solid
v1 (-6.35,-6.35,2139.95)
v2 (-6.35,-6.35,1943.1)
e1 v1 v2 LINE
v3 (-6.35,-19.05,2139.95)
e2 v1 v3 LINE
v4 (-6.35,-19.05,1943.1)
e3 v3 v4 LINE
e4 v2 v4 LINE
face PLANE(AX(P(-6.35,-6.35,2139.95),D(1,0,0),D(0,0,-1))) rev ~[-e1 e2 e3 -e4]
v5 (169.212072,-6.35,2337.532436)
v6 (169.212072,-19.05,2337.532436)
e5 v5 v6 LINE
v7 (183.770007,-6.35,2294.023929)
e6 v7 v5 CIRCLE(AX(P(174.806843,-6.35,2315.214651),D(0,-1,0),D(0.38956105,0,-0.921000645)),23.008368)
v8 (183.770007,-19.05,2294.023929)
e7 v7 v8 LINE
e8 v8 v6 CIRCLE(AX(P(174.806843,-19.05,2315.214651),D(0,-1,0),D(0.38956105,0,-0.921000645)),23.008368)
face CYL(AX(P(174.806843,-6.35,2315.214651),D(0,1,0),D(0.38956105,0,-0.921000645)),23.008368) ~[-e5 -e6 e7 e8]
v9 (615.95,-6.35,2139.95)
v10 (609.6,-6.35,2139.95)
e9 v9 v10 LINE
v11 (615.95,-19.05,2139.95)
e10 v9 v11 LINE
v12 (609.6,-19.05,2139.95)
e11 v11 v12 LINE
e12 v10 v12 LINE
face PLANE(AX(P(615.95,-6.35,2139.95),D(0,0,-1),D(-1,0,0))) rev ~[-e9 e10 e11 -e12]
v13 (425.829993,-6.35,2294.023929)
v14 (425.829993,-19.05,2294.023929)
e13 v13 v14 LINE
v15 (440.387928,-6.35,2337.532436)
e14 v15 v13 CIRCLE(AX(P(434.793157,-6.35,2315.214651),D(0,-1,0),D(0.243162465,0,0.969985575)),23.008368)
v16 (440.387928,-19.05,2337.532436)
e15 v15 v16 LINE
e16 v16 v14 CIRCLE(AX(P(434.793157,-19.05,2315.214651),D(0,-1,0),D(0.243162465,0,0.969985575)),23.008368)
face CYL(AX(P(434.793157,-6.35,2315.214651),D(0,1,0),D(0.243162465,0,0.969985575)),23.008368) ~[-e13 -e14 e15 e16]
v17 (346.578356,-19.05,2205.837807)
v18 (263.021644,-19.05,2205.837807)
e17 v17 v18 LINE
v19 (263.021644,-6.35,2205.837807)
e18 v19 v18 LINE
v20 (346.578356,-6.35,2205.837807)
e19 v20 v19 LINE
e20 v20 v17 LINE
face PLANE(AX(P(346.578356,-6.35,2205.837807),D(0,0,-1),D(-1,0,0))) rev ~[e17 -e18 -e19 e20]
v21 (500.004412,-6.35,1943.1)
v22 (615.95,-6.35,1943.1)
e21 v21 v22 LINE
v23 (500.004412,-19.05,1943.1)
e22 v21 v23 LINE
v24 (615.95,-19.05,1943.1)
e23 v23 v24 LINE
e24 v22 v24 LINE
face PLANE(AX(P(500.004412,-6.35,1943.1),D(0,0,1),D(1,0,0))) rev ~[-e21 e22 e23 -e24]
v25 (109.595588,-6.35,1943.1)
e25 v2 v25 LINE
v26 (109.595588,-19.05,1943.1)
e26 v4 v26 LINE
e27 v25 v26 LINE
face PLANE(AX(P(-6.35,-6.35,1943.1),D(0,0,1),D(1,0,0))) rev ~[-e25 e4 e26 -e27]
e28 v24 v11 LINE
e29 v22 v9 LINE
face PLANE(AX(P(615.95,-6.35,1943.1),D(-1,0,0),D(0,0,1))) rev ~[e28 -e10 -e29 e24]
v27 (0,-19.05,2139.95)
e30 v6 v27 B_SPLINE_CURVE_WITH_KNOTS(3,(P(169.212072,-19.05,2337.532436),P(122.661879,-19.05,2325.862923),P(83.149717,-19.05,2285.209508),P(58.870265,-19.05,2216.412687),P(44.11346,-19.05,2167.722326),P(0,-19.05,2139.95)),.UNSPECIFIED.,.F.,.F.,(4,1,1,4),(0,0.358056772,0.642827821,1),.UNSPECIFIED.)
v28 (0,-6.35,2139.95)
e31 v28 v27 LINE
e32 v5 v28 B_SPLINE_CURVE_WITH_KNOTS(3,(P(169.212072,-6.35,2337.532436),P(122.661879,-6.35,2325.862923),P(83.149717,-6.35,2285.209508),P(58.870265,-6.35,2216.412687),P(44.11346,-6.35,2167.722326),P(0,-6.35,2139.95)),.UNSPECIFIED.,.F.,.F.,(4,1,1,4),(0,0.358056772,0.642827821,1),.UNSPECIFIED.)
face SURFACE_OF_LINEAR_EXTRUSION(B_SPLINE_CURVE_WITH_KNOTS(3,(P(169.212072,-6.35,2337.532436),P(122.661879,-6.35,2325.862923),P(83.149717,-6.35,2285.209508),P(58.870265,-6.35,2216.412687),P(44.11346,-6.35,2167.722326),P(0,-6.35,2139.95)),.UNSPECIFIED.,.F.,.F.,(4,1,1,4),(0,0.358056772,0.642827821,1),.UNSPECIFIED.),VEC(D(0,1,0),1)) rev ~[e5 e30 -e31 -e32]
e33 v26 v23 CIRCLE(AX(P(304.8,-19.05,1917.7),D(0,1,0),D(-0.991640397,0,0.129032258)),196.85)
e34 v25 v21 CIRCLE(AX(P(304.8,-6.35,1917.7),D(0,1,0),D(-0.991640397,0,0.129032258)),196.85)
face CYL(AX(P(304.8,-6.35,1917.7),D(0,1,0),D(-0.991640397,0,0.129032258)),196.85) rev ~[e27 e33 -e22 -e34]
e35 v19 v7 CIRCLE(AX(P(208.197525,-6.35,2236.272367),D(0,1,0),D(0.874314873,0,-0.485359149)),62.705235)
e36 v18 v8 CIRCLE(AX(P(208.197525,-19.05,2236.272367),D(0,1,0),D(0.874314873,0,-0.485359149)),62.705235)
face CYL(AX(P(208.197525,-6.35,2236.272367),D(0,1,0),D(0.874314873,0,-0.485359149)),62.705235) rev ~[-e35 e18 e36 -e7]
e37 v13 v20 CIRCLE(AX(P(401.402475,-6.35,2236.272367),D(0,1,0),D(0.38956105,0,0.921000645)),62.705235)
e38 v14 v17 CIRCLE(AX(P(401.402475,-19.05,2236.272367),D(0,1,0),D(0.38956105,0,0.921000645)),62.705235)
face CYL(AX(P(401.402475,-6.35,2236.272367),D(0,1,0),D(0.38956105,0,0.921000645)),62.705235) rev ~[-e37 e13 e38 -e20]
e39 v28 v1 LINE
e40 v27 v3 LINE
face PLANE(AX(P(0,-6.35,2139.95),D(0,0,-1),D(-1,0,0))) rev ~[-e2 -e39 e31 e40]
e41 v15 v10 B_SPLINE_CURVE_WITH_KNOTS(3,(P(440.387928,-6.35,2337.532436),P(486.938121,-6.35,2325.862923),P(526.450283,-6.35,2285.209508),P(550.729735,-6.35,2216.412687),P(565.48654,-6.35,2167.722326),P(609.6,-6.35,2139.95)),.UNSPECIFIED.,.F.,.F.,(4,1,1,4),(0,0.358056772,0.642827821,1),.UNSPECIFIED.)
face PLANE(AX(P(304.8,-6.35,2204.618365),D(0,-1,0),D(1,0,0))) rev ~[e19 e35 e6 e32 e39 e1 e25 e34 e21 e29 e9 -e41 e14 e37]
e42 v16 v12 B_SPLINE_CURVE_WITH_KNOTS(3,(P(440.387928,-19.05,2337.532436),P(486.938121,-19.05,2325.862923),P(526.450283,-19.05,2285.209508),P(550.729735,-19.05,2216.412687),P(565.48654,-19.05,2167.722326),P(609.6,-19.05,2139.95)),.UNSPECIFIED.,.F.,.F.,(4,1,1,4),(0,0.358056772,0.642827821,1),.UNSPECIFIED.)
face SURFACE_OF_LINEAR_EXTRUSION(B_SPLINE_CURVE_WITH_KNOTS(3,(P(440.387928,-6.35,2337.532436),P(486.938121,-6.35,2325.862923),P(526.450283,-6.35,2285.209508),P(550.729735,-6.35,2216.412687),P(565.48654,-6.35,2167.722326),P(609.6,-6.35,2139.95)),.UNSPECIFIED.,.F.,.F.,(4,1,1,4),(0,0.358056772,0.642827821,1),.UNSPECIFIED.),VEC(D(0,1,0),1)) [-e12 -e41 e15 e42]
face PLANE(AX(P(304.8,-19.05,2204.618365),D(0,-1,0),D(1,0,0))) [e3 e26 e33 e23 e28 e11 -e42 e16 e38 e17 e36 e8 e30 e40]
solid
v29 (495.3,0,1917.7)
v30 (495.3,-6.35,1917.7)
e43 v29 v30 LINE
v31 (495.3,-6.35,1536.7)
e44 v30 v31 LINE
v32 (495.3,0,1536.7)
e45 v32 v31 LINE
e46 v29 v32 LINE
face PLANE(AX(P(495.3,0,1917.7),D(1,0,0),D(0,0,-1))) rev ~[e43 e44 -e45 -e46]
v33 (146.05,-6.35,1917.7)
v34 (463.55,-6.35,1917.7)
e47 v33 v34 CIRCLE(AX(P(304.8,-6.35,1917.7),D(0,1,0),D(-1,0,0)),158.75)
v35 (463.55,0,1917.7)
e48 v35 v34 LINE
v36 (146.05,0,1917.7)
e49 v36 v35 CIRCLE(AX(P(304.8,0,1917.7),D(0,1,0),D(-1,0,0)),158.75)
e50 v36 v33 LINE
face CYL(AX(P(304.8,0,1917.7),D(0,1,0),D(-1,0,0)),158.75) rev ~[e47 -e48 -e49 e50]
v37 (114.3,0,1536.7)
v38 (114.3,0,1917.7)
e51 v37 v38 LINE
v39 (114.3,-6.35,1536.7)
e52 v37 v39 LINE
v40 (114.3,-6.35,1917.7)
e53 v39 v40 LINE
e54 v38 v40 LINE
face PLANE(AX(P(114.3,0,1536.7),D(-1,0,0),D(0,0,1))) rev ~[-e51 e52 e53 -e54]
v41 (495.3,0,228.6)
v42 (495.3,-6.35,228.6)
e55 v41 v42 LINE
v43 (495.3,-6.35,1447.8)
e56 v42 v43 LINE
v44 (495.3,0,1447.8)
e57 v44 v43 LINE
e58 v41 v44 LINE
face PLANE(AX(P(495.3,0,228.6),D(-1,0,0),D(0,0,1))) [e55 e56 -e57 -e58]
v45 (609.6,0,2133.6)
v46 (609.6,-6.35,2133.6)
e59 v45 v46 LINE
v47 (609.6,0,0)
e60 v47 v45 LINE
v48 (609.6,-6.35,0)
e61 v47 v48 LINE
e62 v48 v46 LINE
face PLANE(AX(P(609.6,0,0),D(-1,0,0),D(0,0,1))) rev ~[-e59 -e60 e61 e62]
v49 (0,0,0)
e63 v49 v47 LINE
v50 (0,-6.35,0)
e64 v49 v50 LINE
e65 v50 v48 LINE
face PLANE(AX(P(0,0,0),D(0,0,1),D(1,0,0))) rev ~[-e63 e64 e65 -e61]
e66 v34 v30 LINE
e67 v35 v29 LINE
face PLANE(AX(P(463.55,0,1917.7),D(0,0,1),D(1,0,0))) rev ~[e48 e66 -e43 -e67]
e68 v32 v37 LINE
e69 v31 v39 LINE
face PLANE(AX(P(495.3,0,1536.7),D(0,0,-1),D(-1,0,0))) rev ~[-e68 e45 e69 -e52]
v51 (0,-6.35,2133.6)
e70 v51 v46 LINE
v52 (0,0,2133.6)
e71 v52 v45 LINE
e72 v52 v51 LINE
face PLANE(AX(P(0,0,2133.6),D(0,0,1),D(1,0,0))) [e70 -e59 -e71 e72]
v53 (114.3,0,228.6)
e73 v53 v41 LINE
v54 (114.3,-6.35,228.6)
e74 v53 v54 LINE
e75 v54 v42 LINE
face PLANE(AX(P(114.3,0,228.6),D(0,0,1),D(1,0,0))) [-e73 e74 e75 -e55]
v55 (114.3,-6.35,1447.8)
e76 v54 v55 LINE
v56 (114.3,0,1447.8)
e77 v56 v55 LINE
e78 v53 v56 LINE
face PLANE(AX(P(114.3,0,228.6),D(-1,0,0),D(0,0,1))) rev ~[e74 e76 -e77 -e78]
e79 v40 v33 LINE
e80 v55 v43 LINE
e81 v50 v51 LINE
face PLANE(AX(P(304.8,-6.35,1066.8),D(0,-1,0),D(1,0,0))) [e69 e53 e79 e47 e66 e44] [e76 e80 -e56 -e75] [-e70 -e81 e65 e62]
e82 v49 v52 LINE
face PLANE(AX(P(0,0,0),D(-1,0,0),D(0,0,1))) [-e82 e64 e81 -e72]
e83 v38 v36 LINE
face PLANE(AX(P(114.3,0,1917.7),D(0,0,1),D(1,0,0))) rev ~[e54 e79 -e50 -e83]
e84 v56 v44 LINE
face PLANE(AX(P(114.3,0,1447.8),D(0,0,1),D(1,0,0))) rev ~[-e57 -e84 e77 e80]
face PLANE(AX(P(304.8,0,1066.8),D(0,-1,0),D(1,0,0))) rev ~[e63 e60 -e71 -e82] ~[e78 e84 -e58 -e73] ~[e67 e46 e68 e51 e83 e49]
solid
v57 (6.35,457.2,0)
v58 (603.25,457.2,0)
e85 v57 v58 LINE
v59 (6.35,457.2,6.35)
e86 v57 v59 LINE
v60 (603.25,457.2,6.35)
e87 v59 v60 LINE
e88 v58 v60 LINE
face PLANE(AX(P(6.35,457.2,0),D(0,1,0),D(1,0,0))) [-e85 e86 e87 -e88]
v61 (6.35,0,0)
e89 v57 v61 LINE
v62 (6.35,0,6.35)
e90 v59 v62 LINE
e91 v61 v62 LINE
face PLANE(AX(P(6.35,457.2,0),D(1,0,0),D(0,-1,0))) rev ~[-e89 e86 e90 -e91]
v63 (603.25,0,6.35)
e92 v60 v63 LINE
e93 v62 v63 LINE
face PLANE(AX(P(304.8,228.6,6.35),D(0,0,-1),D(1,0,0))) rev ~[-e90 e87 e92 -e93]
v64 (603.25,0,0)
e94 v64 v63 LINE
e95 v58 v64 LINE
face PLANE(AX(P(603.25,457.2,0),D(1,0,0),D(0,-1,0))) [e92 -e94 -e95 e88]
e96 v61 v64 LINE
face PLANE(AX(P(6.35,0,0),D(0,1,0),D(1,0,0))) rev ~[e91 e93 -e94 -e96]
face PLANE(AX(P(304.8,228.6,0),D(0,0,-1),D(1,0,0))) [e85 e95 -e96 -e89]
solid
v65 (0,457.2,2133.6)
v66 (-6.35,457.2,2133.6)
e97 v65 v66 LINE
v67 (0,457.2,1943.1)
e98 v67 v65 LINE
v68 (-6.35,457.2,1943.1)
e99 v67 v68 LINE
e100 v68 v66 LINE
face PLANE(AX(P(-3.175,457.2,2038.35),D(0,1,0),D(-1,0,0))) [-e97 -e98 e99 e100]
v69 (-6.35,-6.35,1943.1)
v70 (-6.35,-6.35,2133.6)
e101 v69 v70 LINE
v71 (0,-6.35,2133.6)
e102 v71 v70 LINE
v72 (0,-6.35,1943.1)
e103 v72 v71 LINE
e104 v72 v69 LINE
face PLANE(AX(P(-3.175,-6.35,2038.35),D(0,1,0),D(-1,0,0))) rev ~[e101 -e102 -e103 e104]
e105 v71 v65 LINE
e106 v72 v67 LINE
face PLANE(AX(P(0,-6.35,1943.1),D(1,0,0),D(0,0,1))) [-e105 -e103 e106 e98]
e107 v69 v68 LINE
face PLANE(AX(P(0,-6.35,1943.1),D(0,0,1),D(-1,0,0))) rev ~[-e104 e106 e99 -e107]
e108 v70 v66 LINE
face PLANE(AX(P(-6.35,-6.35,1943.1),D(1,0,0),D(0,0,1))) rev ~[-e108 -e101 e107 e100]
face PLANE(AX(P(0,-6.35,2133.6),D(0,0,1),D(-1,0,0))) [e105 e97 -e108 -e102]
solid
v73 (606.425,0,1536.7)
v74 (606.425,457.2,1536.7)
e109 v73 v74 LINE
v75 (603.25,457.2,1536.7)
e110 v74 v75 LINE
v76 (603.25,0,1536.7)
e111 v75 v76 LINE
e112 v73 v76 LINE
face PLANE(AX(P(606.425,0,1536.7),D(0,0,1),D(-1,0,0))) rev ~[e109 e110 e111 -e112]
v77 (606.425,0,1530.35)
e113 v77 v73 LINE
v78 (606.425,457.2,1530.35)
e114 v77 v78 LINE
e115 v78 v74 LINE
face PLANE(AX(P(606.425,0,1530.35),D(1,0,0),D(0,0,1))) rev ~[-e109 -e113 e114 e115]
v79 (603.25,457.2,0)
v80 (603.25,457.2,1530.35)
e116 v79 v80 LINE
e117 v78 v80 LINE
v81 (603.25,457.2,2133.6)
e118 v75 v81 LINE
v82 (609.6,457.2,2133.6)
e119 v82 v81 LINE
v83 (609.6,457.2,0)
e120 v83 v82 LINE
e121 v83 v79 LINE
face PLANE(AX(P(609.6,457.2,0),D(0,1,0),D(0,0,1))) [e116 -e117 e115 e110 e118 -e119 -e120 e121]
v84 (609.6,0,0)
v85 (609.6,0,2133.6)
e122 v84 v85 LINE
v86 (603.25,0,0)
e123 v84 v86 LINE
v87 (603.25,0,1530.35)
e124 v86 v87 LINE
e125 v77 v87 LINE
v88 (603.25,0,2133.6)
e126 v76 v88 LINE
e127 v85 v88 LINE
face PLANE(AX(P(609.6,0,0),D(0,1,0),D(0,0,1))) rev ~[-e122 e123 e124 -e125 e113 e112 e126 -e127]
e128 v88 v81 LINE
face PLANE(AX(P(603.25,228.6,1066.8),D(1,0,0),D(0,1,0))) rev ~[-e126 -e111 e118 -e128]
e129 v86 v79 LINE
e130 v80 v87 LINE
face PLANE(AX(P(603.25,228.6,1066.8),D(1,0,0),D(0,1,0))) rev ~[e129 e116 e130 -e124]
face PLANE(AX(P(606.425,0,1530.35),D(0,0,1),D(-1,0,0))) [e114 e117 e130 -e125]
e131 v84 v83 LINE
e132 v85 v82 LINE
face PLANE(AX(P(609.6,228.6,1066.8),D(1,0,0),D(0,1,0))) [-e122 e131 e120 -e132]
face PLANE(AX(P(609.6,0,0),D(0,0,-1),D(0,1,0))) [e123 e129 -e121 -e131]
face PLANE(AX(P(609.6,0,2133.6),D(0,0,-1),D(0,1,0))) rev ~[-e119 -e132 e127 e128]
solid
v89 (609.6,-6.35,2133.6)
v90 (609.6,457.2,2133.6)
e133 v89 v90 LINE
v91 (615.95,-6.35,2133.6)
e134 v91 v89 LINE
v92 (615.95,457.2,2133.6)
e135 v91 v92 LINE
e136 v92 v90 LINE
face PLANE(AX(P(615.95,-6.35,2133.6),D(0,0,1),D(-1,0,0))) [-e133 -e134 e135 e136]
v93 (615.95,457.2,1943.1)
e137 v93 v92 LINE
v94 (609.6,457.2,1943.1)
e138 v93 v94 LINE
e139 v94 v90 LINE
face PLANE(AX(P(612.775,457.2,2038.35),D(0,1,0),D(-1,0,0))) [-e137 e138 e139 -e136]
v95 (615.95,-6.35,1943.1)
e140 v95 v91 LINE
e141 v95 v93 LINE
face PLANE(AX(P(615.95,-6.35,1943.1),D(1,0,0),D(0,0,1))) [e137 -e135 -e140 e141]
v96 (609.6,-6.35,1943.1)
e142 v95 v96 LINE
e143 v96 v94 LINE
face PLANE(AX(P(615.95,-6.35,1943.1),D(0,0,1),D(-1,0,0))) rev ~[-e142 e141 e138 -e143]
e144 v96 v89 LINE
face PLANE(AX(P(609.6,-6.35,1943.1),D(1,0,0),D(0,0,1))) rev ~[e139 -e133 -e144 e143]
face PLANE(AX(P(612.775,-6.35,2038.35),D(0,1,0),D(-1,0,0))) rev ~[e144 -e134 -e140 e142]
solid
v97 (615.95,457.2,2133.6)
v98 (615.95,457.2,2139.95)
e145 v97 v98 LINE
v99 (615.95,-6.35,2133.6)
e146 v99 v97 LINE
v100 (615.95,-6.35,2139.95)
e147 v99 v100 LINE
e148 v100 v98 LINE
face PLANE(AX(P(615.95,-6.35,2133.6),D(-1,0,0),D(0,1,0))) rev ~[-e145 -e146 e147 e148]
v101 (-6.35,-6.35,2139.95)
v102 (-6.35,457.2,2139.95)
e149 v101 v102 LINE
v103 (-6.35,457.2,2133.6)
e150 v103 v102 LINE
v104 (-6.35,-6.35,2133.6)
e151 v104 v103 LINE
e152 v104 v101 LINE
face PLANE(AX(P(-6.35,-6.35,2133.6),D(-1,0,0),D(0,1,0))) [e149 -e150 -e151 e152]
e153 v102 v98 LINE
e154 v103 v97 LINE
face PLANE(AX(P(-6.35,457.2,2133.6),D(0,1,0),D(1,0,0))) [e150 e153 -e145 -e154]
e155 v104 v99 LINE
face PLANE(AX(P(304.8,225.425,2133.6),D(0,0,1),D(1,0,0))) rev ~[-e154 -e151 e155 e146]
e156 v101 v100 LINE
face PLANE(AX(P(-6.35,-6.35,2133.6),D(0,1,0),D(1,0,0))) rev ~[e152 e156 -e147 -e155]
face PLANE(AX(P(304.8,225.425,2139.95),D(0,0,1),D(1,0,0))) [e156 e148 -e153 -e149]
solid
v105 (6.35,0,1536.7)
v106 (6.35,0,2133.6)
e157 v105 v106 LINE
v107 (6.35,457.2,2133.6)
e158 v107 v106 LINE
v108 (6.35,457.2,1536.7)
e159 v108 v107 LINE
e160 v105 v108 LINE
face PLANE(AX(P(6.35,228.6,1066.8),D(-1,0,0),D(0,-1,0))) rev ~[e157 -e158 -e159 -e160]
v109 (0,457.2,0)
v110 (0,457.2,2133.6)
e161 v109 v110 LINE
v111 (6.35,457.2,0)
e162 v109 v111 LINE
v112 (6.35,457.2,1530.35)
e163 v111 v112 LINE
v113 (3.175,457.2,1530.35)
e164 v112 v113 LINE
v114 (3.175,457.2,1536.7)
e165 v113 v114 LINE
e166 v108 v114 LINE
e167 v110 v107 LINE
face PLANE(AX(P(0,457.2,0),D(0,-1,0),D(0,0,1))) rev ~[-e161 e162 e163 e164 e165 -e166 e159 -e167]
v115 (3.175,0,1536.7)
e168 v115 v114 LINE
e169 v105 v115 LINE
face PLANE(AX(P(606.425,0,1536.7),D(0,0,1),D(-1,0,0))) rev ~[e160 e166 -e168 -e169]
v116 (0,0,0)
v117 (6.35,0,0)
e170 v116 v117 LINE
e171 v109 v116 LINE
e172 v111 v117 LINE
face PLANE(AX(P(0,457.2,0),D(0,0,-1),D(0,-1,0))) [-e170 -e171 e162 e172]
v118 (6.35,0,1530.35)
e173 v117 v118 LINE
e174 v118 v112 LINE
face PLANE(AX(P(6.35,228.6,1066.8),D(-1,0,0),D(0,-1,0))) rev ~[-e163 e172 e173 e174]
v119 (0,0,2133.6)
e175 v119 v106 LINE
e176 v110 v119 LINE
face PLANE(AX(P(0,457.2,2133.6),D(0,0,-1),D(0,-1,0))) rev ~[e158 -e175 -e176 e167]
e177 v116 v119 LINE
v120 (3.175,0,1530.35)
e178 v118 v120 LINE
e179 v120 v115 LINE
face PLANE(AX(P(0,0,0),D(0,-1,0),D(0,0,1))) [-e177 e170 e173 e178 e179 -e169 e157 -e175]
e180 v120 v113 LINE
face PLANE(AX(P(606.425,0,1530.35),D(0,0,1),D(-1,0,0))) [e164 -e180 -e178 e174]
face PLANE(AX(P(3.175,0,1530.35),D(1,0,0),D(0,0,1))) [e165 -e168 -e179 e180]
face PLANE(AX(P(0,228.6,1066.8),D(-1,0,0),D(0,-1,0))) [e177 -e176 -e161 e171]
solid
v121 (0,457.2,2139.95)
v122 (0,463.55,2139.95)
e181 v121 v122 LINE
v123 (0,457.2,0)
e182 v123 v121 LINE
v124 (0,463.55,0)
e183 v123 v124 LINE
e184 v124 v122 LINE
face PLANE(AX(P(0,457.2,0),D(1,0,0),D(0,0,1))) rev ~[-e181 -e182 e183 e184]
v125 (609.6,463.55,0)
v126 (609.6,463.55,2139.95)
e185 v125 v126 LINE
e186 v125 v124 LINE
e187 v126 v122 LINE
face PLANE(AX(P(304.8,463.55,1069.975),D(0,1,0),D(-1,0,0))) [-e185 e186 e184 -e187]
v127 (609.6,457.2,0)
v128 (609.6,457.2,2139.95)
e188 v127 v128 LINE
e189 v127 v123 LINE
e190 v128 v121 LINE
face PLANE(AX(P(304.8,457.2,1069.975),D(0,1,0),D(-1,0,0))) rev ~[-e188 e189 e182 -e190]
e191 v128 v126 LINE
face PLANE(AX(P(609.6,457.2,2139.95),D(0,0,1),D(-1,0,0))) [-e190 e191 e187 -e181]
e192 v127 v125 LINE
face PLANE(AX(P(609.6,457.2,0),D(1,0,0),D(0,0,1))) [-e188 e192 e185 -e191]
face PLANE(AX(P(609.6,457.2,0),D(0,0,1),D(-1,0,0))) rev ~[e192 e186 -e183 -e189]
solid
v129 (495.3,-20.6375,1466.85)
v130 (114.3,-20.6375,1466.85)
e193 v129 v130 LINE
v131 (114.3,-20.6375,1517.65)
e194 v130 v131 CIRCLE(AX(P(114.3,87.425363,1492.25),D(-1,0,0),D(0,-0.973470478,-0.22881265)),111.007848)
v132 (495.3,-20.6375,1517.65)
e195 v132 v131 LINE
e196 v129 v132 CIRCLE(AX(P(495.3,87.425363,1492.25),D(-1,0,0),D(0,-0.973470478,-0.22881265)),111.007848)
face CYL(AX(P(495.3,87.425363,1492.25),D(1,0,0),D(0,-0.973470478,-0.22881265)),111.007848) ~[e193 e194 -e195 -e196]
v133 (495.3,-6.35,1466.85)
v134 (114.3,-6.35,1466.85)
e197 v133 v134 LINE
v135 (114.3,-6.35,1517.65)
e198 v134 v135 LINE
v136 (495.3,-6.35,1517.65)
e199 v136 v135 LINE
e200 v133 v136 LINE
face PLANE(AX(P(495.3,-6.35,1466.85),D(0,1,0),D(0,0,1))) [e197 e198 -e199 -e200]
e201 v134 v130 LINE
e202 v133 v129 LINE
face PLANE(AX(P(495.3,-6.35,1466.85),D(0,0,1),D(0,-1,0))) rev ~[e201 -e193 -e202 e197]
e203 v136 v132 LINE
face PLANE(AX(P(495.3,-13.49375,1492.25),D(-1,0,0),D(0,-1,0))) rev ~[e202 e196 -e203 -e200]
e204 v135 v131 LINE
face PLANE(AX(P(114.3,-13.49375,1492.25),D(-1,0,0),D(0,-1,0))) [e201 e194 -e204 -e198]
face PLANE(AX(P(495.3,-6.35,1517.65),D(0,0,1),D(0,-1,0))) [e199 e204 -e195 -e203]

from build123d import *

# Parameters (mm, degrees)
F0_W      = 609.6
F0_H      = 2133.6
F0_W_2    = 381
F0_H_2    = 1219.2
F1_DEPTH  = 6.35
F2_W      = 457.2
F2_H      = 2133.6
F3_DEPTH  = 6.35
F4_W      = 457.2
F4_H      = 2133.6
F5_DEPTH  = 6.35
F7_DEPTH  = 12.7
F8_W      = 6.35
F8_H      = 190.5
F9_DEPTH  = 463.55
F10_W     = 622.3
F10_H     = 463.55
F11_DEPTH = 6.35
F12_W     = 596.9
F12_H     = 457.2
F13_DEPTH = 6.35
F14_W     = 603.25
F14_H     = 6.35
F15_DEPTH = 457.2
F16_W     = 14.2875
F16_H     = 50.8
F17_DEPTH = 381
F18_W     = 609.6
F18_H     = 2139.95
F19_DEPTH = 6.35


with BuildPart() as f1:
    # F0 (on Front) → F1 (new body)
    with BuildSketch(Plane.XZ):
        with Locations((304.8, 1066.8)):
            Rectangle(F0_W, F0_H)
        with Locations((304.8, 838.2)):
            Rectangle(F0_W_2, F0_H_2, mode=Mode.SUBTRACT)
        with BuildLine():
            Line((463.55, 1917.7), (495.3, 1917.7))
            Line((495.3, 1917.7), (495.3, 1536.7))
            Line((495.3, 1536.7), (114.3, 1536.7))
            Line((114.3, 1536.7), (114.3, 1917.7))
            Line((114.3, 1917.7), (146.05, 1917.7))
            ThreePointArc((146.05, 1917.7), (304.8, 2076.45), (463.55, 1917.7))
        make_face(mode=Mode.SUBTRACT)
    extrude(amount=F1_DEPTH)


with BuildPart() as f3:
    # F2 (on face) → F3 (new body)
    with BuildSketch(Plane.YZ.offset(609.6)):
        with Locations((228.6, 1066.8)):
            Rectangle(F2_W, F2_H)
    extrude(amount=-F3_DEPTH)


with BuildPart() as f5:
    # F4 (on face) → F5 (new body)
    with BuildSketch(Plane(origin=(0, 0, 0), x_dir=(0, -1, 0), z_dir=(-1, 0, 0))):
        with Locations((-228.6, 1066.8)):
            Rectangle(F4_W, F4_H)
    extrude(amount=-F5_DEPTH)


with BuildPart() as f7:
    # F6 (on face) → F7 (new body)
    with BuildSketch(Plane.XZ.offset(6.35)):
        with BuildLine():
            Line((0, 2133.6), (609.6, 2133.6))
            Line((609.6, 2133.6), (609.6, 2139.95))
            add(Edge.make_bspline(
                [(440.3879281905, 2337.5324360536), (486.9381206642, 2325.8629227688), (526.4502828103, 2285.2095078003), (550.7297351415, 2216.4126873435), (565.4865401656, 2167.7223258119), (609.6, 2139.95)],
                knots=[0, 0, 0, 0, 0.3580567719, 0.6428278206, 1, 1, 1, 1], degree=3))
            ThreePointArc((440.3879281905, 2337.5324360536), (412.973805792, 2322.5154000224), (425.8299925146, 2294.0239286494))
            ThreePointArc((425.8299925146, 2294.0239286494), (448.0413685505, 2194.3586440297), (346.5783555928, 2205.8378071219))
            Line((346.5783555928, 2205.8378071219), (304.8, 2205.8378071219))
            Line((304.8, 2205.8378071219), (263.0216444072, 2205.8378071219))
            ThreePointArc((263.0216444072, 2205.8378071219), (161.5586314495, 2194.3586440297), (183.7700074854, 2294.0239286494))
            ThreePointArc((183.7700074854, 2294.0239286494), (196.626194208, 2322.5154000224), (169.2120718095, 2337.5324360536))
            add(Edge.make_bspline(
                [(169.2120718095, 2337.5324360536), (122.6618793358, 2325.8629227688), (83.1497171897, 2285.2095078003), (58.8702648585, 2216.4126873435), (44.1134598344, 2167.7223258119), (0, 2139.95)],
                knots=[0, 0, 0, 0, 0.3580567719, 0.6428278206, 1, 1, 1, 1], degree=3))
            Line((0, 2139.95), (0, 2133.6))
        make_face()
        with BuildLine():
            ThreePointArc((109.5955879085, 1943.1), (304.8, 2114.55), (500.0044120915, 1943.1))
            Line((500.0044120915, 1943.1), (609.6, 1943.1))
            Line((609.6, 1943.1), (609.6, 2133.6))
            Line((609.6, 2133.6), (0, 2133.6))
            Line((0, 2133.6), (0, 1943.1))
            Line((0, 1943.1), (109.5955879085, 1943.1))
        make_face()
        Polygon((609.6, 2133.6), (609.6, 1943.1), (615.95, 1943.1), (615.95, 2139.95), (609.6, 2139.95), align=None)
        Polygon((-6.35, 1943.1), (0, 1943.1), (0, 2133.6), (0, 2139.95), (-6.35, 2139.95), align=None)
    extrude(amount=F7_DEPTH)


with BuildPart() as f9:
    # F8 (on face) → F9 (new body, through all)
    with BuildSketch(Plane(origin=(0, -6.35, 0), x_dir=(-1, 0, 0), z_dir=(0, 1, 0))):
        with Locations((-612.775, 2038.35)):
            Rectangle(F8_W, F8_H)
    extrude(amount=F9_DEPTH)


with BuildPart() as f9b:
    # F8 (on face) → F9, piece 2 (new body, through all)
    with BuildSketch(Plane(origin=(0, -6.35, 0), x_dir=(-1, 0, 0), z_dir=(0, 1, 0))):
        with Locations((3.175, 2038.35)):
            Rectangle(F8_W, F8_H)
    extrude(amount=F9_DEPTH)


with BuildPart() as f11:
    # F10 (on face) → F11 (new body)
    with BuildSketch(Plane.XY.offset(2133.6)):
        with Locations((304.8, 225.425)):
            Rectangle(F10_W, F10_H)
    extrude(amount=F11_DEPTH)


with BuildPart() as f13:
    # F12 (on face) → F13 (new body)
    with BuildSketch(Plane(origin=(0, 0, 0), x_dir=(1, 0, 0), z_dir=(0, 0, -1))):
        with Locations((304.8, -228.6)):
            Rectangle(F12_W, F12_H)
    extrude(amount=-F13_DEPTH)


with BuildPart() as f15_tool:
    # F14 (on face) → F15 (new body, through all)
    with BuildSketch(Plane(origin=(0, 0, 0), x_dir=(-1, 0, 0), z_dir=(0, 1, 0))):
        with Locations((-304.8, 1533.525)):
            Rectangle(F14_W, F14_H)
    extrude(amount=F15_DEPTH)


with BuildPart() as f3_1:
    add(f3.part)

    # F15: cut by f15_tool
    add(f15_tool.part, mode=Mode.SUBTRACT)


with BuildPart() as f5_1:
    add(f5.part)

    # F15: cut by f15_tool
    add(f15_tool.part, mode=Mode.SUBTRACT)


with BuildPart() as f17:
    # F16 (on face) → F17 (new body, through all)
    with BuildSketch(Plane(origin=(495.3, 0, 0), x_dir=(0, -1, 0), z_dir=(-1, 0, 0))):
        with Locations((13.49375, 1492.25)):
            Rectangle(F16_W, F16_H)
        with BuildLine():
            ThreePointArc((20.6375, 1466.85), (23.5824851841, 1492.25), (20.6375, 1517.65))
            Line((20.6375, 1517.65), (20.6375, 1466.85))
        make_face()
    extrude(amount=F17_DEPTH)


with BuildPart() as f19:
    # F18 (on face) → F19 (new body)
    with BuildSketch(Plane(origin=(0, 457.2, 0), x_dir=(-1, 0, 0), z_dir=(0, 1, 0))):
        with Locations((-304.8, 1069.975)):
            Rectangle(F18_W, F18_H)
    extrude(amount=F19_DEPTH)


solid = Compound([f1.part, f7.part, f9.part, f9b.part, f11.part, f13.part, f3_1.part, f5_1.part, f17.part, f19.part])
